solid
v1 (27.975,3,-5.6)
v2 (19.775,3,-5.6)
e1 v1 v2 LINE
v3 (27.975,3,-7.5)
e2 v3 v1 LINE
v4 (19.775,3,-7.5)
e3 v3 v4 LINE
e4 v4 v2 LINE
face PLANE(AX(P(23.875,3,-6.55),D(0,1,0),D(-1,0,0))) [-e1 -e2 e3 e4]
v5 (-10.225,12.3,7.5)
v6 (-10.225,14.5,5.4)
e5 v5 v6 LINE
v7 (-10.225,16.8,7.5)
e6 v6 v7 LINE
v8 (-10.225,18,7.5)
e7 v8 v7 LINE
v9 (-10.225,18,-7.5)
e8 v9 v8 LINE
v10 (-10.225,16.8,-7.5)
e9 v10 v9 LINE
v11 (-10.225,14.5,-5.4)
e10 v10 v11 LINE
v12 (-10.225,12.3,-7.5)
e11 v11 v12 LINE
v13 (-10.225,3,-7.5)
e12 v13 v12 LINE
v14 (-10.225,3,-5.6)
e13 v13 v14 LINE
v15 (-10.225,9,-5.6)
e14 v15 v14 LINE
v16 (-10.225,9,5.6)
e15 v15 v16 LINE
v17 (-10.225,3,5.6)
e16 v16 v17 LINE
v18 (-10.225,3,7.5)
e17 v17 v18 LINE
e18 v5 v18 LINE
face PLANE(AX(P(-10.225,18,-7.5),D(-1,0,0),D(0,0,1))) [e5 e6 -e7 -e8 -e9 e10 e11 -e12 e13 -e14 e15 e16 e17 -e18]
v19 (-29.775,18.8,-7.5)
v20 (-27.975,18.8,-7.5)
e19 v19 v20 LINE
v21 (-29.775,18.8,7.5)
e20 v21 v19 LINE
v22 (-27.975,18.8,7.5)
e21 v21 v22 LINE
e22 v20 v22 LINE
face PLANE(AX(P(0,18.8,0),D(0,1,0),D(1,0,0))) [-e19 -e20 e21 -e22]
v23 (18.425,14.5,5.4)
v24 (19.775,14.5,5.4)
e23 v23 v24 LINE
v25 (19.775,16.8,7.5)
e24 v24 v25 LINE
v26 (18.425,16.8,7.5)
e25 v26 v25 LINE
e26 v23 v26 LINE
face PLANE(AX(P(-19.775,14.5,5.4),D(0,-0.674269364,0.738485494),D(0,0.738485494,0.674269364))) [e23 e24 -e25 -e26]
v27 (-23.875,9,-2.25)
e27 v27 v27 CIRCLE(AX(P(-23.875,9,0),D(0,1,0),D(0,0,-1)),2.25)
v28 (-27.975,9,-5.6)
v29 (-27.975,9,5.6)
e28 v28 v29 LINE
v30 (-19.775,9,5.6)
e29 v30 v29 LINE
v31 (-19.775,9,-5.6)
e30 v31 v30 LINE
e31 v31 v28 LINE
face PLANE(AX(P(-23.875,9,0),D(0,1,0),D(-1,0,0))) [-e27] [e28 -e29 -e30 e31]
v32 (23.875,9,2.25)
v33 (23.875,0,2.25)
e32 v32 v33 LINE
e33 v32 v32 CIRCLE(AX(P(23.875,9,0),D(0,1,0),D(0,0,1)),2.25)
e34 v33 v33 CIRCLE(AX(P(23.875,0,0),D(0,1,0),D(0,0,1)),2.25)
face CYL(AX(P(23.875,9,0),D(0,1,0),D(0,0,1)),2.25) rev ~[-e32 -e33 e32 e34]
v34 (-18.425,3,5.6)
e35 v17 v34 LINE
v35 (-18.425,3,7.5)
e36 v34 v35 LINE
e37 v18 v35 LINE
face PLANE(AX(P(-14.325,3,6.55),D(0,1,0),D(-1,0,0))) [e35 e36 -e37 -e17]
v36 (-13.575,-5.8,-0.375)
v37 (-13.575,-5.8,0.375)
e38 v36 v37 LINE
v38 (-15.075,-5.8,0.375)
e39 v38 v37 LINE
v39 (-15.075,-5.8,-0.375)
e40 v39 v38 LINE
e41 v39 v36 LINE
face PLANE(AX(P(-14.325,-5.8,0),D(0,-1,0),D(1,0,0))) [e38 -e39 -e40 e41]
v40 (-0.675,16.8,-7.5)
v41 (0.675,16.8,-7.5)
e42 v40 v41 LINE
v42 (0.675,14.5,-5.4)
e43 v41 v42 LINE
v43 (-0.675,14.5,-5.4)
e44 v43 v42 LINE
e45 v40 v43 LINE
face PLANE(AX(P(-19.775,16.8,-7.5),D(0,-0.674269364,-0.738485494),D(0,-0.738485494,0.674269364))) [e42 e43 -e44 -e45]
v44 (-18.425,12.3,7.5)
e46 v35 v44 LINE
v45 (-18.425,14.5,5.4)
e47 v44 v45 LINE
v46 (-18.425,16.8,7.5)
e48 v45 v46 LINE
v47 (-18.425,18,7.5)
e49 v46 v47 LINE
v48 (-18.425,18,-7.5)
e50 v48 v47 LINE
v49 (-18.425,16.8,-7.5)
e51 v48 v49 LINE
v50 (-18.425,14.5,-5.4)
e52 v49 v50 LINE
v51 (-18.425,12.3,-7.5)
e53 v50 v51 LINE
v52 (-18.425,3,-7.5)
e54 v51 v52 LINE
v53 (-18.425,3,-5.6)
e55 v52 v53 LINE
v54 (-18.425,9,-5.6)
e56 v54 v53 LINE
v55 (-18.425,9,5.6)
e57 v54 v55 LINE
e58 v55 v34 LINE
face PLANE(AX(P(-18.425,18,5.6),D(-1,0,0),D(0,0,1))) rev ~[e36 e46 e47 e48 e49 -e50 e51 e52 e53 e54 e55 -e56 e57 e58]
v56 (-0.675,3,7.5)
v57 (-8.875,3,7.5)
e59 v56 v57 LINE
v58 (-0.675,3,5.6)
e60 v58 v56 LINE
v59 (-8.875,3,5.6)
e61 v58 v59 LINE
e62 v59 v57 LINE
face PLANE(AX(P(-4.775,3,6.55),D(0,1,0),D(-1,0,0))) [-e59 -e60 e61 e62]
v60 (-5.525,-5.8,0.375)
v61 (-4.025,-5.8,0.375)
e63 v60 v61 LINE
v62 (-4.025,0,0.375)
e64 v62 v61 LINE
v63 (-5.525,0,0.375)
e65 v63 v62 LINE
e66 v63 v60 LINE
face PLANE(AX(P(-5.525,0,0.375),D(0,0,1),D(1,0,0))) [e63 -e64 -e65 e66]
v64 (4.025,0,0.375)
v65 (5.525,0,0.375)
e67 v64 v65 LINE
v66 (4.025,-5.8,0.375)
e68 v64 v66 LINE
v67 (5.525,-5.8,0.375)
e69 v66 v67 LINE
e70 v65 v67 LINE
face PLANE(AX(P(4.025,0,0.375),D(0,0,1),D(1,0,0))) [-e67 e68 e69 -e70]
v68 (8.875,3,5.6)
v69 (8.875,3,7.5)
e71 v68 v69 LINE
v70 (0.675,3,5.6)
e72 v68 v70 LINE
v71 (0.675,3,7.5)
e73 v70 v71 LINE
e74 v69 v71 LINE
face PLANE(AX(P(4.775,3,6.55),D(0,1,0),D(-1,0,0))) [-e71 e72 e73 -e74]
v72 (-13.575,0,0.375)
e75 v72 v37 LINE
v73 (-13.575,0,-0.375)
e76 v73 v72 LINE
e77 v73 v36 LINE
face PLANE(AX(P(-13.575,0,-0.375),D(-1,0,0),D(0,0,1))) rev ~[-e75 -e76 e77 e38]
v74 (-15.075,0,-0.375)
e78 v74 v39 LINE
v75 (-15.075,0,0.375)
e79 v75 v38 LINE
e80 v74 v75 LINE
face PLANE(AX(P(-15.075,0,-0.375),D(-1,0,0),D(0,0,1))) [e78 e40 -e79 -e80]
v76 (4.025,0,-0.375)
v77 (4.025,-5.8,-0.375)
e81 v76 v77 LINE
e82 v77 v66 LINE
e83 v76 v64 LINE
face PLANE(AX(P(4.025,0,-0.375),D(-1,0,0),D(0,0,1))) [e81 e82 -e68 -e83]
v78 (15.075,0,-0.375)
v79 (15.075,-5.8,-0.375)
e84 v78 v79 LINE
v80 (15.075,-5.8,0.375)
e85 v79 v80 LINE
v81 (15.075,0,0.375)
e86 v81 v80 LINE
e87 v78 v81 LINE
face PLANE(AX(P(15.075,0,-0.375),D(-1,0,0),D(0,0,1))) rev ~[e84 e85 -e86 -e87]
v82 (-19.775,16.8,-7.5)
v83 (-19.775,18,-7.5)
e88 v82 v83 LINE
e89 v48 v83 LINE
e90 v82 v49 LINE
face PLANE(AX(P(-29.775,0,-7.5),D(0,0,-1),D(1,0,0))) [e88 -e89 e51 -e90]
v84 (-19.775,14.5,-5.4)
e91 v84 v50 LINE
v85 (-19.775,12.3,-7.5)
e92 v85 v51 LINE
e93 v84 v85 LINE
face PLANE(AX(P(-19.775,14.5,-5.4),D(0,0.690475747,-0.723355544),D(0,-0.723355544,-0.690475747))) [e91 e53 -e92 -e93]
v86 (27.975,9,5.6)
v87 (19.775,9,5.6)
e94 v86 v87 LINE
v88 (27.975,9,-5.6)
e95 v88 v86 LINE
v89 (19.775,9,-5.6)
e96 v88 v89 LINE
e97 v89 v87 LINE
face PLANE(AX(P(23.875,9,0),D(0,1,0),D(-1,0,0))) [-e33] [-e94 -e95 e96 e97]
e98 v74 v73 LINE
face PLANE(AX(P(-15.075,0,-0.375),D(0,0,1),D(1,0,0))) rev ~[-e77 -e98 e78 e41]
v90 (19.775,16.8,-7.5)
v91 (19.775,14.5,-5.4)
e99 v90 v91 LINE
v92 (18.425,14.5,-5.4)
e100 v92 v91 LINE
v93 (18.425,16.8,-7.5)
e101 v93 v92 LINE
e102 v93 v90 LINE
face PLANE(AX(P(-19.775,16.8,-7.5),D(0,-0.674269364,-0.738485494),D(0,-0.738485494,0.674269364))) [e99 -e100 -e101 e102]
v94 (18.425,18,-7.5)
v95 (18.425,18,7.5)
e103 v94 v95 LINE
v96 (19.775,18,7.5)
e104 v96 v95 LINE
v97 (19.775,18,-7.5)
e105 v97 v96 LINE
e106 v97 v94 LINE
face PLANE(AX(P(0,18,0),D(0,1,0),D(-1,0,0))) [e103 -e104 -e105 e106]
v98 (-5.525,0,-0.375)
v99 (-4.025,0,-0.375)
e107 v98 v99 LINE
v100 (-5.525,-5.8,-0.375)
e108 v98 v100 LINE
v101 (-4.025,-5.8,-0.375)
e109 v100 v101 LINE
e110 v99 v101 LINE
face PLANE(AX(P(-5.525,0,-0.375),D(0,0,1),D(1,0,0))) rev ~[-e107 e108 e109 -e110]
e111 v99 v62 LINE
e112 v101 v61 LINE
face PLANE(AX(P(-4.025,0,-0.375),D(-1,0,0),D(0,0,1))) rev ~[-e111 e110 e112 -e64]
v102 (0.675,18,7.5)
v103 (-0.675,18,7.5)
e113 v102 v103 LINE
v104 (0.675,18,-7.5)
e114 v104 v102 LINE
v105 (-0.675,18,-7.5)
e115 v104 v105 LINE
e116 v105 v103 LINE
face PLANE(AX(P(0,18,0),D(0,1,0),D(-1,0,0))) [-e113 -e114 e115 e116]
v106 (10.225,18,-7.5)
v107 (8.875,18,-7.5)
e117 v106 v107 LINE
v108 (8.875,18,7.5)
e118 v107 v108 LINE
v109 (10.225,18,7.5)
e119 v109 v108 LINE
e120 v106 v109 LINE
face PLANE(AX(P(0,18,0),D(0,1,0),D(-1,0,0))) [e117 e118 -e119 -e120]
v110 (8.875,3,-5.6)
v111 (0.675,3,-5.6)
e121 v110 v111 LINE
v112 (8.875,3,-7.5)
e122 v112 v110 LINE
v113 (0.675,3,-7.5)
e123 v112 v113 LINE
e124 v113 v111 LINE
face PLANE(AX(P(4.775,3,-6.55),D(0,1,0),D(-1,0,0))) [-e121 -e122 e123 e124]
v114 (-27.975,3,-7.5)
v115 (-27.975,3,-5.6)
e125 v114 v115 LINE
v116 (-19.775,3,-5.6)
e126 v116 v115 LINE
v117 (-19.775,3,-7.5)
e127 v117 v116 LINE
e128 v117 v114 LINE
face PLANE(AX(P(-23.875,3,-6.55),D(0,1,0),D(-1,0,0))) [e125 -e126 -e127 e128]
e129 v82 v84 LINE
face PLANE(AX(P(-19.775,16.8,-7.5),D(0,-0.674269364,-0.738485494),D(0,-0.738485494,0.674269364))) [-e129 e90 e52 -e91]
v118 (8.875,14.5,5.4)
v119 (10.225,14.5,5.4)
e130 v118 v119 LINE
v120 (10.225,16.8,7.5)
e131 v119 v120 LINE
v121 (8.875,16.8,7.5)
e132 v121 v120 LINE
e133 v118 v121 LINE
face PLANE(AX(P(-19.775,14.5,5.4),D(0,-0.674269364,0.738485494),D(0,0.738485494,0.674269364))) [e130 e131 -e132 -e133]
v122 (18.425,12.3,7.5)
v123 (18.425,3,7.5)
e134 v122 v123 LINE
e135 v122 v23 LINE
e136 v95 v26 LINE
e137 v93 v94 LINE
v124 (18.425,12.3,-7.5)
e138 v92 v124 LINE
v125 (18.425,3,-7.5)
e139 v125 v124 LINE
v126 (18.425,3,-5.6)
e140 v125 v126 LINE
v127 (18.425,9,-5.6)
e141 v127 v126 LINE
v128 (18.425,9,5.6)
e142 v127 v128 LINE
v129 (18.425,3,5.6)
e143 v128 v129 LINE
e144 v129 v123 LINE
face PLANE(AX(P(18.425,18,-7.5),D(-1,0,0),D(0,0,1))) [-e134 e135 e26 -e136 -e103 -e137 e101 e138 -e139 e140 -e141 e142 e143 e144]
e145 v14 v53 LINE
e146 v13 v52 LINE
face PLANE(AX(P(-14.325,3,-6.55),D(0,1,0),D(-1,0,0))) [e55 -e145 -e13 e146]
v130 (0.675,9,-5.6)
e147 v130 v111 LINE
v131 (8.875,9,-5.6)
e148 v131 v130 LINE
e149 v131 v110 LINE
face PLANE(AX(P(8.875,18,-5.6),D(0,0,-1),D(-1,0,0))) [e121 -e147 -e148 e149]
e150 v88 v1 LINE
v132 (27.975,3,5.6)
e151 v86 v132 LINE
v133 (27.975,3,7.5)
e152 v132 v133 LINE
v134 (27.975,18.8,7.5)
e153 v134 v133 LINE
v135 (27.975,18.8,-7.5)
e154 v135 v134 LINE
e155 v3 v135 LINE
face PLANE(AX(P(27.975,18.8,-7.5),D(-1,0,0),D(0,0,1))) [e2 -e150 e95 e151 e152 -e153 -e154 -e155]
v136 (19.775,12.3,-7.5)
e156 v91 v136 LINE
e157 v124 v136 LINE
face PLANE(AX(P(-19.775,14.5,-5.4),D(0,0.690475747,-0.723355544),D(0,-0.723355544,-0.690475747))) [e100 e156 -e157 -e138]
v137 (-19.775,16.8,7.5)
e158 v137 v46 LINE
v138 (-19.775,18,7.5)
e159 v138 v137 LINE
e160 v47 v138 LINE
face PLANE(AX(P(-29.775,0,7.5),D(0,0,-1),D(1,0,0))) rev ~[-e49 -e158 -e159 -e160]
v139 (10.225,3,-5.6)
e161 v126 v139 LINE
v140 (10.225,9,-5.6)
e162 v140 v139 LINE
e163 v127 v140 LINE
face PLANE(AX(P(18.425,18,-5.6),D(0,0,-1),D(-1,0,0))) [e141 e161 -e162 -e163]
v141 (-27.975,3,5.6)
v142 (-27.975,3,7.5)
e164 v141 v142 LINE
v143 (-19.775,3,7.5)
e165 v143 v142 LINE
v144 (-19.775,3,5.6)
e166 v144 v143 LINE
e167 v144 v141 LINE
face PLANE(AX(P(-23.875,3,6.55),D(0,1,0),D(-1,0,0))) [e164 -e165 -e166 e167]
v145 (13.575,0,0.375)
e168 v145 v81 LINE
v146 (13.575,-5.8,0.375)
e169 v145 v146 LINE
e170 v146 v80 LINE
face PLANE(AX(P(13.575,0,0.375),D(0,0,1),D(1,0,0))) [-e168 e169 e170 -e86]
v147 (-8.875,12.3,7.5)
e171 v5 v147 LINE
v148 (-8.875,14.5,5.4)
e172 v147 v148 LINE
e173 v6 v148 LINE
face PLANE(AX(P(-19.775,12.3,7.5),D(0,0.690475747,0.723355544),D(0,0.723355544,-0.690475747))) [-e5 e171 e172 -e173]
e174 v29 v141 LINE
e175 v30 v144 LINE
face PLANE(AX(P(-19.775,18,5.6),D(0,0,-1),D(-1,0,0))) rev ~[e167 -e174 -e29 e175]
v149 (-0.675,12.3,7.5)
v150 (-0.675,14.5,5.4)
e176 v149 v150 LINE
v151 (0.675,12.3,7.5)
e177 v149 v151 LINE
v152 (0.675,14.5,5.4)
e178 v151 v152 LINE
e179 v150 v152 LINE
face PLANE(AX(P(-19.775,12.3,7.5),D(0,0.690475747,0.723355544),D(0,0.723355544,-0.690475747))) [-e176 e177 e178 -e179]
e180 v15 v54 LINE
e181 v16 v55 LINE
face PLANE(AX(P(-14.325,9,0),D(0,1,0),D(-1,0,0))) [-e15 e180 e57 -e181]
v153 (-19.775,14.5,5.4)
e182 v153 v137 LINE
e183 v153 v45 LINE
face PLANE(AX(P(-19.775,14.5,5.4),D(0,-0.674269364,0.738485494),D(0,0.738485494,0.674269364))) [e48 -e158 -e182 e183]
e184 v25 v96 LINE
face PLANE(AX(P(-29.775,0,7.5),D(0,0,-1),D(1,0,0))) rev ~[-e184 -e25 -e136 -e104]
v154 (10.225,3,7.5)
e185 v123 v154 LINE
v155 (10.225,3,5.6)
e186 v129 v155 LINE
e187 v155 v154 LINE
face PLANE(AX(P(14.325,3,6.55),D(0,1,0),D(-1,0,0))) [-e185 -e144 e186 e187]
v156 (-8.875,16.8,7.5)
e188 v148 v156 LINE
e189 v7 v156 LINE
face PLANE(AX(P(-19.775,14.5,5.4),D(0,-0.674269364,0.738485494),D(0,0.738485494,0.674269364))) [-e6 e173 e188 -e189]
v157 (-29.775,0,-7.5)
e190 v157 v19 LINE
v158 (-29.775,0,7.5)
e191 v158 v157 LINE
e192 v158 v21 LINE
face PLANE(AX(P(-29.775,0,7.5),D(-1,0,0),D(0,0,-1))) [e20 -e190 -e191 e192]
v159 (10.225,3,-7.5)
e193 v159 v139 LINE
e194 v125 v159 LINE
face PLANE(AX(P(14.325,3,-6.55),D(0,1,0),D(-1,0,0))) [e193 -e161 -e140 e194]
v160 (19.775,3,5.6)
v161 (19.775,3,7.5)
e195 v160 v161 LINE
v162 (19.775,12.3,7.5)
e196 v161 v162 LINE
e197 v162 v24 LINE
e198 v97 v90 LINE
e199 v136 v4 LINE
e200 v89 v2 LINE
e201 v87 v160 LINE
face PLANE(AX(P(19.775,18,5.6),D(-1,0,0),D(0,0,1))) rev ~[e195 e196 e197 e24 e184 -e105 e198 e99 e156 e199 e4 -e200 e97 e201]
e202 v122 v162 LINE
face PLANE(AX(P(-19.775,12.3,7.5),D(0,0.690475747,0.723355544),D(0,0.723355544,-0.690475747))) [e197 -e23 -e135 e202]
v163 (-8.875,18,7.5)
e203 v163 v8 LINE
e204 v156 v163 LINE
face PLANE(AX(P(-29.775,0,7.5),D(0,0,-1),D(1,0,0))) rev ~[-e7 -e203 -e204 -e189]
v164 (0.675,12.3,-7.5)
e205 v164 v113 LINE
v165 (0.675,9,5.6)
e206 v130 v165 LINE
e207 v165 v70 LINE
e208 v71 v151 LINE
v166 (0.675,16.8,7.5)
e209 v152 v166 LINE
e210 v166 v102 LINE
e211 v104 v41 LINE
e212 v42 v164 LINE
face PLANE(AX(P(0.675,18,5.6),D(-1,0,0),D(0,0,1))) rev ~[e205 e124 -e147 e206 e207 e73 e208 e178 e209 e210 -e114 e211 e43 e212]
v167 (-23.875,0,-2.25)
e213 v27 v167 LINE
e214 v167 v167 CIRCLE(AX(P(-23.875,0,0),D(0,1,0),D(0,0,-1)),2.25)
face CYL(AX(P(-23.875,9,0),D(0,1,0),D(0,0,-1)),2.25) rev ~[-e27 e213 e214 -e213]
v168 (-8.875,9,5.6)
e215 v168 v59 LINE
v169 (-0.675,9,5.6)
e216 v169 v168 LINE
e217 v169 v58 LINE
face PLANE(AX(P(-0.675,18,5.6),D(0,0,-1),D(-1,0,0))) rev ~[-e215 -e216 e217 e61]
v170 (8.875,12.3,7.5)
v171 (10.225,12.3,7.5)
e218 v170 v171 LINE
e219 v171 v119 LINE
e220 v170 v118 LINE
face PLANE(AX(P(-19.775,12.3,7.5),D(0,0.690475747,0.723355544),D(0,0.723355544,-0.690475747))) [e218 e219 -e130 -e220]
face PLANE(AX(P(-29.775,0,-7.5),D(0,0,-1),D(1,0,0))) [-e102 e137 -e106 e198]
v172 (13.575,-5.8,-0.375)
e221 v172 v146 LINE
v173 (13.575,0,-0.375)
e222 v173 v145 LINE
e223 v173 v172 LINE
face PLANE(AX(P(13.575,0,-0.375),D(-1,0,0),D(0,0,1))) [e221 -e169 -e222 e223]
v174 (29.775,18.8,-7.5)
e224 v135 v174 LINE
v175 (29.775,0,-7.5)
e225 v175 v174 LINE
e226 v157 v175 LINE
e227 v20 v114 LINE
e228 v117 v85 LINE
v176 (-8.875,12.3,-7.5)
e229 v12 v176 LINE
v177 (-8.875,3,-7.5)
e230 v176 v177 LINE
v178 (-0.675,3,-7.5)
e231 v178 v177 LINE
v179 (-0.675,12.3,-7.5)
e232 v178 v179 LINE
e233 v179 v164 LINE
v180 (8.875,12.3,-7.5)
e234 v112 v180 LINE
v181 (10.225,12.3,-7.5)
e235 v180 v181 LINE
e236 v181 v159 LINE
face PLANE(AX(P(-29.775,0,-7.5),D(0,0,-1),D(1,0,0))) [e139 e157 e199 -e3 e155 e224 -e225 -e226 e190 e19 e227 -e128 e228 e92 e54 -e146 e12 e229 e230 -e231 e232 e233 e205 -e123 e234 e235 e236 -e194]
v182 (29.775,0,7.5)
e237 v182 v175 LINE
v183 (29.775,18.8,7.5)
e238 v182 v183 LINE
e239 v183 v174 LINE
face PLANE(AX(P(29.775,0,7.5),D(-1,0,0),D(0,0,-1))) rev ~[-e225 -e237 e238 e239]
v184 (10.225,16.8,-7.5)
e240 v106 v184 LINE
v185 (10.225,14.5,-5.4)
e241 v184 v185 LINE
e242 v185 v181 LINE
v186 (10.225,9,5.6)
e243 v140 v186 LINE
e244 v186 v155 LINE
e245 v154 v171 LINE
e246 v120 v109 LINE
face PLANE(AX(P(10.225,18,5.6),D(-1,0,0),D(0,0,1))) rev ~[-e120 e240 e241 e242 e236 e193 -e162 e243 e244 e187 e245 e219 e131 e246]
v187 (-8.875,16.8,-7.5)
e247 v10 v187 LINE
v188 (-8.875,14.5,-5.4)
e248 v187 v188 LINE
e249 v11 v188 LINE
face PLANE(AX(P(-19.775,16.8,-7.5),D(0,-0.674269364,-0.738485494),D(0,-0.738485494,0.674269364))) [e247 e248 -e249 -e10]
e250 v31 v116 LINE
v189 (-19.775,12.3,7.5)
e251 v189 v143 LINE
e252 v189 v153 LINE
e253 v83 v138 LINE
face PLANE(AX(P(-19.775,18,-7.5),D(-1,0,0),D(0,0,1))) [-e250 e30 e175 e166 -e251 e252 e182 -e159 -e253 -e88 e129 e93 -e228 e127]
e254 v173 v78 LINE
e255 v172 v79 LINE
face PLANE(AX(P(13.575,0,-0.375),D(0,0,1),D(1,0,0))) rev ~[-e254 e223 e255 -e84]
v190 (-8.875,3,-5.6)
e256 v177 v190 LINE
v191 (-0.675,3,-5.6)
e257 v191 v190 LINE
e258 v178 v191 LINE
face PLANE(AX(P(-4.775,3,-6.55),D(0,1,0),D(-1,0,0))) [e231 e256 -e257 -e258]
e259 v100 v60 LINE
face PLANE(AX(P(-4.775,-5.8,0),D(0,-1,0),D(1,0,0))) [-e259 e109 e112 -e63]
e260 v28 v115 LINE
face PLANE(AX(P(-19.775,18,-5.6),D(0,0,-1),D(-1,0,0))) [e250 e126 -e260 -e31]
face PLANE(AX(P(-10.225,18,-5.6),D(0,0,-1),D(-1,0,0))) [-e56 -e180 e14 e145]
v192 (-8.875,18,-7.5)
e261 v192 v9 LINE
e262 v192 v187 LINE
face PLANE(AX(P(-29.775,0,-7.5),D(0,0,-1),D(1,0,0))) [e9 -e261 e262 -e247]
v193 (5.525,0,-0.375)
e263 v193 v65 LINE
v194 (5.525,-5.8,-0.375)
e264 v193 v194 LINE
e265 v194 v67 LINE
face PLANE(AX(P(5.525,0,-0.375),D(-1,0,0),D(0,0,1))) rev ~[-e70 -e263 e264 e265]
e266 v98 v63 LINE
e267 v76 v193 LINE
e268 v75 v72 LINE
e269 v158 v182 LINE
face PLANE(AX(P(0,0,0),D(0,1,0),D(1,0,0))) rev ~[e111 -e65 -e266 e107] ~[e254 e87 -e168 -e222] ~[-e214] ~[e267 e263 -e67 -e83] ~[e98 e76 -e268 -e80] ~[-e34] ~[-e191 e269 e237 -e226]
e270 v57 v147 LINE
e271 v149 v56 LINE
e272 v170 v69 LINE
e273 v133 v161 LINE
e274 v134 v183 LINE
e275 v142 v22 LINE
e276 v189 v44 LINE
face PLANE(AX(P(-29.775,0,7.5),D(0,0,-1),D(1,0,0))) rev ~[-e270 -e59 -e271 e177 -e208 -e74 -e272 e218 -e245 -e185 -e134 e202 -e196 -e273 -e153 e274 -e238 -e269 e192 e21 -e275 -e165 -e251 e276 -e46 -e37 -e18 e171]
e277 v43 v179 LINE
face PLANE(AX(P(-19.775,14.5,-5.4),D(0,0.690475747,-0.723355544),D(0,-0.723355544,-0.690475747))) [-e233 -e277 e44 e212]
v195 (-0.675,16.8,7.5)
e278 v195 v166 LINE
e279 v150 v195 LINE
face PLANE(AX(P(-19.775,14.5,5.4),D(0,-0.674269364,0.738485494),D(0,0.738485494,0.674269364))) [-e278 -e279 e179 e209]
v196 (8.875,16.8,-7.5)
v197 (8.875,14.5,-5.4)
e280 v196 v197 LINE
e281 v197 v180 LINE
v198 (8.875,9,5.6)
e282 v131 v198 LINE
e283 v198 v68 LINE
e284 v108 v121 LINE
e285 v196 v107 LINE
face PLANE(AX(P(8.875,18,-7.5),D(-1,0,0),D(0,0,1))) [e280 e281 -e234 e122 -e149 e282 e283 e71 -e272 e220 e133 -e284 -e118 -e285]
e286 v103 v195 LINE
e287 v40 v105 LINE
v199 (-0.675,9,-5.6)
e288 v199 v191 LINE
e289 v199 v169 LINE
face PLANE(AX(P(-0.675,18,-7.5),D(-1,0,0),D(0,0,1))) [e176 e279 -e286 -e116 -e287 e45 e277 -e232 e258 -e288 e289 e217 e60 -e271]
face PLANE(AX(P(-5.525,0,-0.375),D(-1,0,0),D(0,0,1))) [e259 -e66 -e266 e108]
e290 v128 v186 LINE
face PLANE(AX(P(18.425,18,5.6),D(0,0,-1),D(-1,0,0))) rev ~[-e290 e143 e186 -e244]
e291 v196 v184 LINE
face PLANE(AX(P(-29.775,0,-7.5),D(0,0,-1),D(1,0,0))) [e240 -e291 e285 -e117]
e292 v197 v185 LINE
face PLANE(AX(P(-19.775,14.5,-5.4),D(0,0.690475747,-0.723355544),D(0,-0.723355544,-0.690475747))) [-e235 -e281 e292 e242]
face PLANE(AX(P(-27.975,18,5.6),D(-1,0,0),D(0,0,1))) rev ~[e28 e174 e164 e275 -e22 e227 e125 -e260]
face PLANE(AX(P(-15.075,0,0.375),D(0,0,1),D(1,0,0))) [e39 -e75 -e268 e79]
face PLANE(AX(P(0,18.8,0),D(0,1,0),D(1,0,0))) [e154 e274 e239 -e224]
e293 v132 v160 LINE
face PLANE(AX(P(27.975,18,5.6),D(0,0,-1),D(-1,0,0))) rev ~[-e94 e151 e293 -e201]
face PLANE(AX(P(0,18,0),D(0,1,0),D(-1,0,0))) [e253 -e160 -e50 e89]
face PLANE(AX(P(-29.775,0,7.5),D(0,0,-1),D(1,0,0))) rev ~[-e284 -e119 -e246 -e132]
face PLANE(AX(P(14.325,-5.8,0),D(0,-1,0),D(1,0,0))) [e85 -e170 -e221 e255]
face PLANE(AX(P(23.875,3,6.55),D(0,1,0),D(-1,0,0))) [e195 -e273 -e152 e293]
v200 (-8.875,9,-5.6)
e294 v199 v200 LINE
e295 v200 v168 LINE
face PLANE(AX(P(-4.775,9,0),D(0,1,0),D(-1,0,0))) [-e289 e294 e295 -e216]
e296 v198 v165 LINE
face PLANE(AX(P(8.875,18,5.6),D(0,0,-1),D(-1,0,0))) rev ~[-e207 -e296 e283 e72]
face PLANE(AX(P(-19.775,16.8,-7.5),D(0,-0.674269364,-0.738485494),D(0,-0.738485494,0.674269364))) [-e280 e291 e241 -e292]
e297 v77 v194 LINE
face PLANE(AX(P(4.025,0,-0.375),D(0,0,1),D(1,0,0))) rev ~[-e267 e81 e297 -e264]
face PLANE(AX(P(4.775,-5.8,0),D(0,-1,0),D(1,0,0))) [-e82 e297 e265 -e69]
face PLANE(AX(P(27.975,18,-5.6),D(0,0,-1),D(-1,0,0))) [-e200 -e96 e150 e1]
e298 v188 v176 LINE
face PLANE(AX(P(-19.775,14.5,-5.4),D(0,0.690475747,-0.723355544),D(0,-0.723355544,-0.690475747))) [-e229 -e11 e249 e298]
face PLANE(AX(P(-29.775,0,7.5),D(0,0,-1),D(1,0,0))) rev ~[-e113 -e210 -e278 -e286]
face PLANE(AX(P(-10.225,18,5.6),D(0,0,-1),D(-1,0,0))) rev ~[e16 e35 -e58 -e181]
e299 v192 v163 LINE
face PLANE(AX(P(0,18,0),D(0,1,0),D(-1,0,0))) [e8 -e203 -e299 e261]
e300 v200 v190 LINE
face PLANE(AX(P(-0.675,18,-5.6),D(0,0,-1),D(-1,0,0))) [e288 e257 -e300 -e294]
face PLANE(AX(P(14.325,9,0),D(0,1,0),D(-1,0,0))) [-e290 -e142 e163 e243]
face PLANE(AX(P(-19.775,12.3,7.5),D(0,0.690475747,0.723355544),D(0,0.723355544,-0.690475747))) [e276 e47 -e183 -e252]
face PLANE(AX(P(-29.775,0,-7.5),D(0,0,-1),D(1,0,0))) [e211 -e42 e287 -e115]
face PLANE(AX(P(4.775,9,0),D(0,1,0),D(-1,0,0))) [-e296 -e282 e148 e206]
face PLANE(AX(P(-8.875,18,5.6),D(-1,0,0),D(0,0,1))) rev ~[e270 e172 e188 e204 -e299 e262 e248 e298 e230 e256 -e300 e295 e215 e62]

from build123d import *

# Parameters (mm, degrees)
SKETCH_1_W          = 59.55
SKETCH_1_H          = 15
EXTRUDE_1_DEPTH     = 18.8
SKETCH_2_W          = 55.95
SKETCH_2_H          = 15
CUT_EXTRUDE_1_DEPTH = 0.8
SKETCH_4_W          = 8.2
SKETCH_4_H          = 15
CUT_EXTRUDE_2_DEPTH = 9
SKETCH_5_W          = 8.2
SKETCH_5_H          = 1.9
CUT_EXTRUDE_3_DEPTH = 15
SKETCH_6_W          = 1.5
SKETCH_6_H          = 0.75
EXTRUDE_2_DEPTH     = 5.8
SKETCH_7_R          = 2.25
CUT_EXTRUDE_4_DEPTH = 35.085783327
CUT_EXTRUDE_START   = -39.55
CUT_EXTRUDE_5_DEPTH = 39.55


with BuildPart() as part:
    # 草图1 → 拉伸1 (new body)
    with BuildSketch(Plane(origin=(0, 0, 0), x_dir=(1, 0, 0), z_dir=(0, 1, 0))):
        Rectangle(SKETCH_1_W, SKETCH_1_H)
    extrude(amount=EXTRUDE_1_DEPTH)

    # 草图2 → 切除-拉伸1 (cut)
    with BuildSketch(Plane(origin=(0, 18.8, 0), x_dir=(-1, 0, 0), z_dir=(0, 1, 0))):
        Rectangle(SKETCH_2_W, SKETCH_2_H)
    extrude(amount=-CUT_EXTRUDE_1_DEPTH, mode=Mode.SUBTRACT)

    # 草图4 → 切除-拉伸2 (cut)
    with BuildSketch(Plane(origin=(0, 18, 0), x_dir=(-1, 0, 0), z_dir=(0, 1, 0))):
        with Locations((-23.875, 0)):
            Rectangle(SKETCH_4_W, SKETCH_4_H)
        with Locations((-14.325, 0)):
            Rectangle(SKETCH_4_W, SKETCH_4_H)
        with Locations((-4.775, 0)):
            Rectangle(SKETCH_4_W, SKETCH_4_H)
        with Locations((4.775, 0)):
            Rectangle(SKETCH_4_W, SKETCH_4_H)
        with Locations((14.325, 0)):
            Rectangle(SKETCH_4_W, SKETCH_4_H)
        with Locations((23.875, 0)):
            Rectangle(SKETCH_4_W, SKETCH_4_H)
    extrude(amount=-CUT_EXTRUDE_2_DEPTH, mode=Mode.SUBTRACT)

    # 草图5 → 切除-拉伸3 (cut)
    with BuildSketch(Plane(origin=(0, 18, 0), x_dir=(-1, 0, 0), z_dir=(0, 1, 0))):
        with Locations((23.875, -6.55)):
            Rectangle(SKETCH_5_W, SKETCH_5_H)
        with Locations((23.875, 6.55)):
            Rectangle(SKETCH_5_W, SKETCH_5_H)
        with Locations((14.325, -6.55)):
            Rectangle(SKETCH_5_W, SKETCH_5_H)
        with Locations((14.325, 6.55)):
            Rectangle(SKETCH_5_W, SKETCH_5_H)
        with Locations((4.775, -6.55)):
            Rectangle(SKETCH_5_W, SKETCH_5_H)
        with Locations((4.775, 6.55)):
            Rectangle(SKETCH_5_W, SKETCH_5_H)
        with Locations((-4.775, -6.55)):
            Rectangle(SKETCH_5_W, SKETCH_5_H)
        with Locations((-4.775, 6.55)):
            Rectangle(SKETCH_5_W, SKETCH_5_H)
        with Locations((-14.325, -6.55)):
            Rectangle(SKETCH_5_W, SKETCH_5_H)
        with Locations((-14.325, 6.55)):
            Rectangle(SKETCH_5_W, SKETCH_5_H)
        with Locations((-23.875, -6.55)):
            Rectangle(SKETCH_5_W, SKETCH_5_H)
        with Locations((-23.875, 6.55)):
            Rectangle(SKETCH_5_W, SKETCH_5_H)
    extrude(amount=-CUT_EXTRUDE_3_DEPTH, mode=Mode.SUBTRACT)

    # 草图6 → 拉伸2 (add)
    with BuildSketch(Plane.XZ):
        with Locations((-4.775, 0)):
            Rectangle(SKETCH_6_W, SKETCH_6_H)
        with Locations((4.775, 0)):
            Rectangle(SKETCH_6_W, SKETCH_6_H)
        with Locations((14.325, 0)):
            Rectangle(SKETCH_6_W, SKETCH_6_H)
        with Locations((-14.325, 0)):
            Rectangle(SKETCH_6_W, SKETCH_6_H)
    extrude(amount=EXTRUDE_2_DEPTH)

    # 草图7 → 切除-拉伸4 (cut, through all)
    with BuildSketch(Plane(origin=(0, 9, 0), x_dir=(-1, 0, 0), z_dir=(0, 1, 0))):
        with Locations(Location((-23.875, 0, 0), (0, 0, 90))):
            Circle(SKETCH_7_R)
        with Locations(Location((23.875, 0, 0), (0, 0, 270))):
            Circle(SKETCH_7_R)
    extrude(amount=-CUT_EXTRUDE_4_DEPTH, mode=Mode.SUBTRACT)

    # 草图8 → 切除-拉伸5 (cut)
    with BuildSketch(Plane(origin=(19.775, 0, 0), x_dir=(0, 0, -1), z_dir=(1, 0, 0)).offset(CUT_EXTRUDE_START)):
        Polygon((7.5, 16.8), (5.4, 14.5), (7.5, 12.3), align=None)
        Polygon((-7.5, 16.8), (-7.5, 12.3), (-5.4, 14.5), align=None)
    extrude(amount=CUT_EXTRUDE_5_DEPTH, mode=Mode.SUBTRACT)


solid = part.part
